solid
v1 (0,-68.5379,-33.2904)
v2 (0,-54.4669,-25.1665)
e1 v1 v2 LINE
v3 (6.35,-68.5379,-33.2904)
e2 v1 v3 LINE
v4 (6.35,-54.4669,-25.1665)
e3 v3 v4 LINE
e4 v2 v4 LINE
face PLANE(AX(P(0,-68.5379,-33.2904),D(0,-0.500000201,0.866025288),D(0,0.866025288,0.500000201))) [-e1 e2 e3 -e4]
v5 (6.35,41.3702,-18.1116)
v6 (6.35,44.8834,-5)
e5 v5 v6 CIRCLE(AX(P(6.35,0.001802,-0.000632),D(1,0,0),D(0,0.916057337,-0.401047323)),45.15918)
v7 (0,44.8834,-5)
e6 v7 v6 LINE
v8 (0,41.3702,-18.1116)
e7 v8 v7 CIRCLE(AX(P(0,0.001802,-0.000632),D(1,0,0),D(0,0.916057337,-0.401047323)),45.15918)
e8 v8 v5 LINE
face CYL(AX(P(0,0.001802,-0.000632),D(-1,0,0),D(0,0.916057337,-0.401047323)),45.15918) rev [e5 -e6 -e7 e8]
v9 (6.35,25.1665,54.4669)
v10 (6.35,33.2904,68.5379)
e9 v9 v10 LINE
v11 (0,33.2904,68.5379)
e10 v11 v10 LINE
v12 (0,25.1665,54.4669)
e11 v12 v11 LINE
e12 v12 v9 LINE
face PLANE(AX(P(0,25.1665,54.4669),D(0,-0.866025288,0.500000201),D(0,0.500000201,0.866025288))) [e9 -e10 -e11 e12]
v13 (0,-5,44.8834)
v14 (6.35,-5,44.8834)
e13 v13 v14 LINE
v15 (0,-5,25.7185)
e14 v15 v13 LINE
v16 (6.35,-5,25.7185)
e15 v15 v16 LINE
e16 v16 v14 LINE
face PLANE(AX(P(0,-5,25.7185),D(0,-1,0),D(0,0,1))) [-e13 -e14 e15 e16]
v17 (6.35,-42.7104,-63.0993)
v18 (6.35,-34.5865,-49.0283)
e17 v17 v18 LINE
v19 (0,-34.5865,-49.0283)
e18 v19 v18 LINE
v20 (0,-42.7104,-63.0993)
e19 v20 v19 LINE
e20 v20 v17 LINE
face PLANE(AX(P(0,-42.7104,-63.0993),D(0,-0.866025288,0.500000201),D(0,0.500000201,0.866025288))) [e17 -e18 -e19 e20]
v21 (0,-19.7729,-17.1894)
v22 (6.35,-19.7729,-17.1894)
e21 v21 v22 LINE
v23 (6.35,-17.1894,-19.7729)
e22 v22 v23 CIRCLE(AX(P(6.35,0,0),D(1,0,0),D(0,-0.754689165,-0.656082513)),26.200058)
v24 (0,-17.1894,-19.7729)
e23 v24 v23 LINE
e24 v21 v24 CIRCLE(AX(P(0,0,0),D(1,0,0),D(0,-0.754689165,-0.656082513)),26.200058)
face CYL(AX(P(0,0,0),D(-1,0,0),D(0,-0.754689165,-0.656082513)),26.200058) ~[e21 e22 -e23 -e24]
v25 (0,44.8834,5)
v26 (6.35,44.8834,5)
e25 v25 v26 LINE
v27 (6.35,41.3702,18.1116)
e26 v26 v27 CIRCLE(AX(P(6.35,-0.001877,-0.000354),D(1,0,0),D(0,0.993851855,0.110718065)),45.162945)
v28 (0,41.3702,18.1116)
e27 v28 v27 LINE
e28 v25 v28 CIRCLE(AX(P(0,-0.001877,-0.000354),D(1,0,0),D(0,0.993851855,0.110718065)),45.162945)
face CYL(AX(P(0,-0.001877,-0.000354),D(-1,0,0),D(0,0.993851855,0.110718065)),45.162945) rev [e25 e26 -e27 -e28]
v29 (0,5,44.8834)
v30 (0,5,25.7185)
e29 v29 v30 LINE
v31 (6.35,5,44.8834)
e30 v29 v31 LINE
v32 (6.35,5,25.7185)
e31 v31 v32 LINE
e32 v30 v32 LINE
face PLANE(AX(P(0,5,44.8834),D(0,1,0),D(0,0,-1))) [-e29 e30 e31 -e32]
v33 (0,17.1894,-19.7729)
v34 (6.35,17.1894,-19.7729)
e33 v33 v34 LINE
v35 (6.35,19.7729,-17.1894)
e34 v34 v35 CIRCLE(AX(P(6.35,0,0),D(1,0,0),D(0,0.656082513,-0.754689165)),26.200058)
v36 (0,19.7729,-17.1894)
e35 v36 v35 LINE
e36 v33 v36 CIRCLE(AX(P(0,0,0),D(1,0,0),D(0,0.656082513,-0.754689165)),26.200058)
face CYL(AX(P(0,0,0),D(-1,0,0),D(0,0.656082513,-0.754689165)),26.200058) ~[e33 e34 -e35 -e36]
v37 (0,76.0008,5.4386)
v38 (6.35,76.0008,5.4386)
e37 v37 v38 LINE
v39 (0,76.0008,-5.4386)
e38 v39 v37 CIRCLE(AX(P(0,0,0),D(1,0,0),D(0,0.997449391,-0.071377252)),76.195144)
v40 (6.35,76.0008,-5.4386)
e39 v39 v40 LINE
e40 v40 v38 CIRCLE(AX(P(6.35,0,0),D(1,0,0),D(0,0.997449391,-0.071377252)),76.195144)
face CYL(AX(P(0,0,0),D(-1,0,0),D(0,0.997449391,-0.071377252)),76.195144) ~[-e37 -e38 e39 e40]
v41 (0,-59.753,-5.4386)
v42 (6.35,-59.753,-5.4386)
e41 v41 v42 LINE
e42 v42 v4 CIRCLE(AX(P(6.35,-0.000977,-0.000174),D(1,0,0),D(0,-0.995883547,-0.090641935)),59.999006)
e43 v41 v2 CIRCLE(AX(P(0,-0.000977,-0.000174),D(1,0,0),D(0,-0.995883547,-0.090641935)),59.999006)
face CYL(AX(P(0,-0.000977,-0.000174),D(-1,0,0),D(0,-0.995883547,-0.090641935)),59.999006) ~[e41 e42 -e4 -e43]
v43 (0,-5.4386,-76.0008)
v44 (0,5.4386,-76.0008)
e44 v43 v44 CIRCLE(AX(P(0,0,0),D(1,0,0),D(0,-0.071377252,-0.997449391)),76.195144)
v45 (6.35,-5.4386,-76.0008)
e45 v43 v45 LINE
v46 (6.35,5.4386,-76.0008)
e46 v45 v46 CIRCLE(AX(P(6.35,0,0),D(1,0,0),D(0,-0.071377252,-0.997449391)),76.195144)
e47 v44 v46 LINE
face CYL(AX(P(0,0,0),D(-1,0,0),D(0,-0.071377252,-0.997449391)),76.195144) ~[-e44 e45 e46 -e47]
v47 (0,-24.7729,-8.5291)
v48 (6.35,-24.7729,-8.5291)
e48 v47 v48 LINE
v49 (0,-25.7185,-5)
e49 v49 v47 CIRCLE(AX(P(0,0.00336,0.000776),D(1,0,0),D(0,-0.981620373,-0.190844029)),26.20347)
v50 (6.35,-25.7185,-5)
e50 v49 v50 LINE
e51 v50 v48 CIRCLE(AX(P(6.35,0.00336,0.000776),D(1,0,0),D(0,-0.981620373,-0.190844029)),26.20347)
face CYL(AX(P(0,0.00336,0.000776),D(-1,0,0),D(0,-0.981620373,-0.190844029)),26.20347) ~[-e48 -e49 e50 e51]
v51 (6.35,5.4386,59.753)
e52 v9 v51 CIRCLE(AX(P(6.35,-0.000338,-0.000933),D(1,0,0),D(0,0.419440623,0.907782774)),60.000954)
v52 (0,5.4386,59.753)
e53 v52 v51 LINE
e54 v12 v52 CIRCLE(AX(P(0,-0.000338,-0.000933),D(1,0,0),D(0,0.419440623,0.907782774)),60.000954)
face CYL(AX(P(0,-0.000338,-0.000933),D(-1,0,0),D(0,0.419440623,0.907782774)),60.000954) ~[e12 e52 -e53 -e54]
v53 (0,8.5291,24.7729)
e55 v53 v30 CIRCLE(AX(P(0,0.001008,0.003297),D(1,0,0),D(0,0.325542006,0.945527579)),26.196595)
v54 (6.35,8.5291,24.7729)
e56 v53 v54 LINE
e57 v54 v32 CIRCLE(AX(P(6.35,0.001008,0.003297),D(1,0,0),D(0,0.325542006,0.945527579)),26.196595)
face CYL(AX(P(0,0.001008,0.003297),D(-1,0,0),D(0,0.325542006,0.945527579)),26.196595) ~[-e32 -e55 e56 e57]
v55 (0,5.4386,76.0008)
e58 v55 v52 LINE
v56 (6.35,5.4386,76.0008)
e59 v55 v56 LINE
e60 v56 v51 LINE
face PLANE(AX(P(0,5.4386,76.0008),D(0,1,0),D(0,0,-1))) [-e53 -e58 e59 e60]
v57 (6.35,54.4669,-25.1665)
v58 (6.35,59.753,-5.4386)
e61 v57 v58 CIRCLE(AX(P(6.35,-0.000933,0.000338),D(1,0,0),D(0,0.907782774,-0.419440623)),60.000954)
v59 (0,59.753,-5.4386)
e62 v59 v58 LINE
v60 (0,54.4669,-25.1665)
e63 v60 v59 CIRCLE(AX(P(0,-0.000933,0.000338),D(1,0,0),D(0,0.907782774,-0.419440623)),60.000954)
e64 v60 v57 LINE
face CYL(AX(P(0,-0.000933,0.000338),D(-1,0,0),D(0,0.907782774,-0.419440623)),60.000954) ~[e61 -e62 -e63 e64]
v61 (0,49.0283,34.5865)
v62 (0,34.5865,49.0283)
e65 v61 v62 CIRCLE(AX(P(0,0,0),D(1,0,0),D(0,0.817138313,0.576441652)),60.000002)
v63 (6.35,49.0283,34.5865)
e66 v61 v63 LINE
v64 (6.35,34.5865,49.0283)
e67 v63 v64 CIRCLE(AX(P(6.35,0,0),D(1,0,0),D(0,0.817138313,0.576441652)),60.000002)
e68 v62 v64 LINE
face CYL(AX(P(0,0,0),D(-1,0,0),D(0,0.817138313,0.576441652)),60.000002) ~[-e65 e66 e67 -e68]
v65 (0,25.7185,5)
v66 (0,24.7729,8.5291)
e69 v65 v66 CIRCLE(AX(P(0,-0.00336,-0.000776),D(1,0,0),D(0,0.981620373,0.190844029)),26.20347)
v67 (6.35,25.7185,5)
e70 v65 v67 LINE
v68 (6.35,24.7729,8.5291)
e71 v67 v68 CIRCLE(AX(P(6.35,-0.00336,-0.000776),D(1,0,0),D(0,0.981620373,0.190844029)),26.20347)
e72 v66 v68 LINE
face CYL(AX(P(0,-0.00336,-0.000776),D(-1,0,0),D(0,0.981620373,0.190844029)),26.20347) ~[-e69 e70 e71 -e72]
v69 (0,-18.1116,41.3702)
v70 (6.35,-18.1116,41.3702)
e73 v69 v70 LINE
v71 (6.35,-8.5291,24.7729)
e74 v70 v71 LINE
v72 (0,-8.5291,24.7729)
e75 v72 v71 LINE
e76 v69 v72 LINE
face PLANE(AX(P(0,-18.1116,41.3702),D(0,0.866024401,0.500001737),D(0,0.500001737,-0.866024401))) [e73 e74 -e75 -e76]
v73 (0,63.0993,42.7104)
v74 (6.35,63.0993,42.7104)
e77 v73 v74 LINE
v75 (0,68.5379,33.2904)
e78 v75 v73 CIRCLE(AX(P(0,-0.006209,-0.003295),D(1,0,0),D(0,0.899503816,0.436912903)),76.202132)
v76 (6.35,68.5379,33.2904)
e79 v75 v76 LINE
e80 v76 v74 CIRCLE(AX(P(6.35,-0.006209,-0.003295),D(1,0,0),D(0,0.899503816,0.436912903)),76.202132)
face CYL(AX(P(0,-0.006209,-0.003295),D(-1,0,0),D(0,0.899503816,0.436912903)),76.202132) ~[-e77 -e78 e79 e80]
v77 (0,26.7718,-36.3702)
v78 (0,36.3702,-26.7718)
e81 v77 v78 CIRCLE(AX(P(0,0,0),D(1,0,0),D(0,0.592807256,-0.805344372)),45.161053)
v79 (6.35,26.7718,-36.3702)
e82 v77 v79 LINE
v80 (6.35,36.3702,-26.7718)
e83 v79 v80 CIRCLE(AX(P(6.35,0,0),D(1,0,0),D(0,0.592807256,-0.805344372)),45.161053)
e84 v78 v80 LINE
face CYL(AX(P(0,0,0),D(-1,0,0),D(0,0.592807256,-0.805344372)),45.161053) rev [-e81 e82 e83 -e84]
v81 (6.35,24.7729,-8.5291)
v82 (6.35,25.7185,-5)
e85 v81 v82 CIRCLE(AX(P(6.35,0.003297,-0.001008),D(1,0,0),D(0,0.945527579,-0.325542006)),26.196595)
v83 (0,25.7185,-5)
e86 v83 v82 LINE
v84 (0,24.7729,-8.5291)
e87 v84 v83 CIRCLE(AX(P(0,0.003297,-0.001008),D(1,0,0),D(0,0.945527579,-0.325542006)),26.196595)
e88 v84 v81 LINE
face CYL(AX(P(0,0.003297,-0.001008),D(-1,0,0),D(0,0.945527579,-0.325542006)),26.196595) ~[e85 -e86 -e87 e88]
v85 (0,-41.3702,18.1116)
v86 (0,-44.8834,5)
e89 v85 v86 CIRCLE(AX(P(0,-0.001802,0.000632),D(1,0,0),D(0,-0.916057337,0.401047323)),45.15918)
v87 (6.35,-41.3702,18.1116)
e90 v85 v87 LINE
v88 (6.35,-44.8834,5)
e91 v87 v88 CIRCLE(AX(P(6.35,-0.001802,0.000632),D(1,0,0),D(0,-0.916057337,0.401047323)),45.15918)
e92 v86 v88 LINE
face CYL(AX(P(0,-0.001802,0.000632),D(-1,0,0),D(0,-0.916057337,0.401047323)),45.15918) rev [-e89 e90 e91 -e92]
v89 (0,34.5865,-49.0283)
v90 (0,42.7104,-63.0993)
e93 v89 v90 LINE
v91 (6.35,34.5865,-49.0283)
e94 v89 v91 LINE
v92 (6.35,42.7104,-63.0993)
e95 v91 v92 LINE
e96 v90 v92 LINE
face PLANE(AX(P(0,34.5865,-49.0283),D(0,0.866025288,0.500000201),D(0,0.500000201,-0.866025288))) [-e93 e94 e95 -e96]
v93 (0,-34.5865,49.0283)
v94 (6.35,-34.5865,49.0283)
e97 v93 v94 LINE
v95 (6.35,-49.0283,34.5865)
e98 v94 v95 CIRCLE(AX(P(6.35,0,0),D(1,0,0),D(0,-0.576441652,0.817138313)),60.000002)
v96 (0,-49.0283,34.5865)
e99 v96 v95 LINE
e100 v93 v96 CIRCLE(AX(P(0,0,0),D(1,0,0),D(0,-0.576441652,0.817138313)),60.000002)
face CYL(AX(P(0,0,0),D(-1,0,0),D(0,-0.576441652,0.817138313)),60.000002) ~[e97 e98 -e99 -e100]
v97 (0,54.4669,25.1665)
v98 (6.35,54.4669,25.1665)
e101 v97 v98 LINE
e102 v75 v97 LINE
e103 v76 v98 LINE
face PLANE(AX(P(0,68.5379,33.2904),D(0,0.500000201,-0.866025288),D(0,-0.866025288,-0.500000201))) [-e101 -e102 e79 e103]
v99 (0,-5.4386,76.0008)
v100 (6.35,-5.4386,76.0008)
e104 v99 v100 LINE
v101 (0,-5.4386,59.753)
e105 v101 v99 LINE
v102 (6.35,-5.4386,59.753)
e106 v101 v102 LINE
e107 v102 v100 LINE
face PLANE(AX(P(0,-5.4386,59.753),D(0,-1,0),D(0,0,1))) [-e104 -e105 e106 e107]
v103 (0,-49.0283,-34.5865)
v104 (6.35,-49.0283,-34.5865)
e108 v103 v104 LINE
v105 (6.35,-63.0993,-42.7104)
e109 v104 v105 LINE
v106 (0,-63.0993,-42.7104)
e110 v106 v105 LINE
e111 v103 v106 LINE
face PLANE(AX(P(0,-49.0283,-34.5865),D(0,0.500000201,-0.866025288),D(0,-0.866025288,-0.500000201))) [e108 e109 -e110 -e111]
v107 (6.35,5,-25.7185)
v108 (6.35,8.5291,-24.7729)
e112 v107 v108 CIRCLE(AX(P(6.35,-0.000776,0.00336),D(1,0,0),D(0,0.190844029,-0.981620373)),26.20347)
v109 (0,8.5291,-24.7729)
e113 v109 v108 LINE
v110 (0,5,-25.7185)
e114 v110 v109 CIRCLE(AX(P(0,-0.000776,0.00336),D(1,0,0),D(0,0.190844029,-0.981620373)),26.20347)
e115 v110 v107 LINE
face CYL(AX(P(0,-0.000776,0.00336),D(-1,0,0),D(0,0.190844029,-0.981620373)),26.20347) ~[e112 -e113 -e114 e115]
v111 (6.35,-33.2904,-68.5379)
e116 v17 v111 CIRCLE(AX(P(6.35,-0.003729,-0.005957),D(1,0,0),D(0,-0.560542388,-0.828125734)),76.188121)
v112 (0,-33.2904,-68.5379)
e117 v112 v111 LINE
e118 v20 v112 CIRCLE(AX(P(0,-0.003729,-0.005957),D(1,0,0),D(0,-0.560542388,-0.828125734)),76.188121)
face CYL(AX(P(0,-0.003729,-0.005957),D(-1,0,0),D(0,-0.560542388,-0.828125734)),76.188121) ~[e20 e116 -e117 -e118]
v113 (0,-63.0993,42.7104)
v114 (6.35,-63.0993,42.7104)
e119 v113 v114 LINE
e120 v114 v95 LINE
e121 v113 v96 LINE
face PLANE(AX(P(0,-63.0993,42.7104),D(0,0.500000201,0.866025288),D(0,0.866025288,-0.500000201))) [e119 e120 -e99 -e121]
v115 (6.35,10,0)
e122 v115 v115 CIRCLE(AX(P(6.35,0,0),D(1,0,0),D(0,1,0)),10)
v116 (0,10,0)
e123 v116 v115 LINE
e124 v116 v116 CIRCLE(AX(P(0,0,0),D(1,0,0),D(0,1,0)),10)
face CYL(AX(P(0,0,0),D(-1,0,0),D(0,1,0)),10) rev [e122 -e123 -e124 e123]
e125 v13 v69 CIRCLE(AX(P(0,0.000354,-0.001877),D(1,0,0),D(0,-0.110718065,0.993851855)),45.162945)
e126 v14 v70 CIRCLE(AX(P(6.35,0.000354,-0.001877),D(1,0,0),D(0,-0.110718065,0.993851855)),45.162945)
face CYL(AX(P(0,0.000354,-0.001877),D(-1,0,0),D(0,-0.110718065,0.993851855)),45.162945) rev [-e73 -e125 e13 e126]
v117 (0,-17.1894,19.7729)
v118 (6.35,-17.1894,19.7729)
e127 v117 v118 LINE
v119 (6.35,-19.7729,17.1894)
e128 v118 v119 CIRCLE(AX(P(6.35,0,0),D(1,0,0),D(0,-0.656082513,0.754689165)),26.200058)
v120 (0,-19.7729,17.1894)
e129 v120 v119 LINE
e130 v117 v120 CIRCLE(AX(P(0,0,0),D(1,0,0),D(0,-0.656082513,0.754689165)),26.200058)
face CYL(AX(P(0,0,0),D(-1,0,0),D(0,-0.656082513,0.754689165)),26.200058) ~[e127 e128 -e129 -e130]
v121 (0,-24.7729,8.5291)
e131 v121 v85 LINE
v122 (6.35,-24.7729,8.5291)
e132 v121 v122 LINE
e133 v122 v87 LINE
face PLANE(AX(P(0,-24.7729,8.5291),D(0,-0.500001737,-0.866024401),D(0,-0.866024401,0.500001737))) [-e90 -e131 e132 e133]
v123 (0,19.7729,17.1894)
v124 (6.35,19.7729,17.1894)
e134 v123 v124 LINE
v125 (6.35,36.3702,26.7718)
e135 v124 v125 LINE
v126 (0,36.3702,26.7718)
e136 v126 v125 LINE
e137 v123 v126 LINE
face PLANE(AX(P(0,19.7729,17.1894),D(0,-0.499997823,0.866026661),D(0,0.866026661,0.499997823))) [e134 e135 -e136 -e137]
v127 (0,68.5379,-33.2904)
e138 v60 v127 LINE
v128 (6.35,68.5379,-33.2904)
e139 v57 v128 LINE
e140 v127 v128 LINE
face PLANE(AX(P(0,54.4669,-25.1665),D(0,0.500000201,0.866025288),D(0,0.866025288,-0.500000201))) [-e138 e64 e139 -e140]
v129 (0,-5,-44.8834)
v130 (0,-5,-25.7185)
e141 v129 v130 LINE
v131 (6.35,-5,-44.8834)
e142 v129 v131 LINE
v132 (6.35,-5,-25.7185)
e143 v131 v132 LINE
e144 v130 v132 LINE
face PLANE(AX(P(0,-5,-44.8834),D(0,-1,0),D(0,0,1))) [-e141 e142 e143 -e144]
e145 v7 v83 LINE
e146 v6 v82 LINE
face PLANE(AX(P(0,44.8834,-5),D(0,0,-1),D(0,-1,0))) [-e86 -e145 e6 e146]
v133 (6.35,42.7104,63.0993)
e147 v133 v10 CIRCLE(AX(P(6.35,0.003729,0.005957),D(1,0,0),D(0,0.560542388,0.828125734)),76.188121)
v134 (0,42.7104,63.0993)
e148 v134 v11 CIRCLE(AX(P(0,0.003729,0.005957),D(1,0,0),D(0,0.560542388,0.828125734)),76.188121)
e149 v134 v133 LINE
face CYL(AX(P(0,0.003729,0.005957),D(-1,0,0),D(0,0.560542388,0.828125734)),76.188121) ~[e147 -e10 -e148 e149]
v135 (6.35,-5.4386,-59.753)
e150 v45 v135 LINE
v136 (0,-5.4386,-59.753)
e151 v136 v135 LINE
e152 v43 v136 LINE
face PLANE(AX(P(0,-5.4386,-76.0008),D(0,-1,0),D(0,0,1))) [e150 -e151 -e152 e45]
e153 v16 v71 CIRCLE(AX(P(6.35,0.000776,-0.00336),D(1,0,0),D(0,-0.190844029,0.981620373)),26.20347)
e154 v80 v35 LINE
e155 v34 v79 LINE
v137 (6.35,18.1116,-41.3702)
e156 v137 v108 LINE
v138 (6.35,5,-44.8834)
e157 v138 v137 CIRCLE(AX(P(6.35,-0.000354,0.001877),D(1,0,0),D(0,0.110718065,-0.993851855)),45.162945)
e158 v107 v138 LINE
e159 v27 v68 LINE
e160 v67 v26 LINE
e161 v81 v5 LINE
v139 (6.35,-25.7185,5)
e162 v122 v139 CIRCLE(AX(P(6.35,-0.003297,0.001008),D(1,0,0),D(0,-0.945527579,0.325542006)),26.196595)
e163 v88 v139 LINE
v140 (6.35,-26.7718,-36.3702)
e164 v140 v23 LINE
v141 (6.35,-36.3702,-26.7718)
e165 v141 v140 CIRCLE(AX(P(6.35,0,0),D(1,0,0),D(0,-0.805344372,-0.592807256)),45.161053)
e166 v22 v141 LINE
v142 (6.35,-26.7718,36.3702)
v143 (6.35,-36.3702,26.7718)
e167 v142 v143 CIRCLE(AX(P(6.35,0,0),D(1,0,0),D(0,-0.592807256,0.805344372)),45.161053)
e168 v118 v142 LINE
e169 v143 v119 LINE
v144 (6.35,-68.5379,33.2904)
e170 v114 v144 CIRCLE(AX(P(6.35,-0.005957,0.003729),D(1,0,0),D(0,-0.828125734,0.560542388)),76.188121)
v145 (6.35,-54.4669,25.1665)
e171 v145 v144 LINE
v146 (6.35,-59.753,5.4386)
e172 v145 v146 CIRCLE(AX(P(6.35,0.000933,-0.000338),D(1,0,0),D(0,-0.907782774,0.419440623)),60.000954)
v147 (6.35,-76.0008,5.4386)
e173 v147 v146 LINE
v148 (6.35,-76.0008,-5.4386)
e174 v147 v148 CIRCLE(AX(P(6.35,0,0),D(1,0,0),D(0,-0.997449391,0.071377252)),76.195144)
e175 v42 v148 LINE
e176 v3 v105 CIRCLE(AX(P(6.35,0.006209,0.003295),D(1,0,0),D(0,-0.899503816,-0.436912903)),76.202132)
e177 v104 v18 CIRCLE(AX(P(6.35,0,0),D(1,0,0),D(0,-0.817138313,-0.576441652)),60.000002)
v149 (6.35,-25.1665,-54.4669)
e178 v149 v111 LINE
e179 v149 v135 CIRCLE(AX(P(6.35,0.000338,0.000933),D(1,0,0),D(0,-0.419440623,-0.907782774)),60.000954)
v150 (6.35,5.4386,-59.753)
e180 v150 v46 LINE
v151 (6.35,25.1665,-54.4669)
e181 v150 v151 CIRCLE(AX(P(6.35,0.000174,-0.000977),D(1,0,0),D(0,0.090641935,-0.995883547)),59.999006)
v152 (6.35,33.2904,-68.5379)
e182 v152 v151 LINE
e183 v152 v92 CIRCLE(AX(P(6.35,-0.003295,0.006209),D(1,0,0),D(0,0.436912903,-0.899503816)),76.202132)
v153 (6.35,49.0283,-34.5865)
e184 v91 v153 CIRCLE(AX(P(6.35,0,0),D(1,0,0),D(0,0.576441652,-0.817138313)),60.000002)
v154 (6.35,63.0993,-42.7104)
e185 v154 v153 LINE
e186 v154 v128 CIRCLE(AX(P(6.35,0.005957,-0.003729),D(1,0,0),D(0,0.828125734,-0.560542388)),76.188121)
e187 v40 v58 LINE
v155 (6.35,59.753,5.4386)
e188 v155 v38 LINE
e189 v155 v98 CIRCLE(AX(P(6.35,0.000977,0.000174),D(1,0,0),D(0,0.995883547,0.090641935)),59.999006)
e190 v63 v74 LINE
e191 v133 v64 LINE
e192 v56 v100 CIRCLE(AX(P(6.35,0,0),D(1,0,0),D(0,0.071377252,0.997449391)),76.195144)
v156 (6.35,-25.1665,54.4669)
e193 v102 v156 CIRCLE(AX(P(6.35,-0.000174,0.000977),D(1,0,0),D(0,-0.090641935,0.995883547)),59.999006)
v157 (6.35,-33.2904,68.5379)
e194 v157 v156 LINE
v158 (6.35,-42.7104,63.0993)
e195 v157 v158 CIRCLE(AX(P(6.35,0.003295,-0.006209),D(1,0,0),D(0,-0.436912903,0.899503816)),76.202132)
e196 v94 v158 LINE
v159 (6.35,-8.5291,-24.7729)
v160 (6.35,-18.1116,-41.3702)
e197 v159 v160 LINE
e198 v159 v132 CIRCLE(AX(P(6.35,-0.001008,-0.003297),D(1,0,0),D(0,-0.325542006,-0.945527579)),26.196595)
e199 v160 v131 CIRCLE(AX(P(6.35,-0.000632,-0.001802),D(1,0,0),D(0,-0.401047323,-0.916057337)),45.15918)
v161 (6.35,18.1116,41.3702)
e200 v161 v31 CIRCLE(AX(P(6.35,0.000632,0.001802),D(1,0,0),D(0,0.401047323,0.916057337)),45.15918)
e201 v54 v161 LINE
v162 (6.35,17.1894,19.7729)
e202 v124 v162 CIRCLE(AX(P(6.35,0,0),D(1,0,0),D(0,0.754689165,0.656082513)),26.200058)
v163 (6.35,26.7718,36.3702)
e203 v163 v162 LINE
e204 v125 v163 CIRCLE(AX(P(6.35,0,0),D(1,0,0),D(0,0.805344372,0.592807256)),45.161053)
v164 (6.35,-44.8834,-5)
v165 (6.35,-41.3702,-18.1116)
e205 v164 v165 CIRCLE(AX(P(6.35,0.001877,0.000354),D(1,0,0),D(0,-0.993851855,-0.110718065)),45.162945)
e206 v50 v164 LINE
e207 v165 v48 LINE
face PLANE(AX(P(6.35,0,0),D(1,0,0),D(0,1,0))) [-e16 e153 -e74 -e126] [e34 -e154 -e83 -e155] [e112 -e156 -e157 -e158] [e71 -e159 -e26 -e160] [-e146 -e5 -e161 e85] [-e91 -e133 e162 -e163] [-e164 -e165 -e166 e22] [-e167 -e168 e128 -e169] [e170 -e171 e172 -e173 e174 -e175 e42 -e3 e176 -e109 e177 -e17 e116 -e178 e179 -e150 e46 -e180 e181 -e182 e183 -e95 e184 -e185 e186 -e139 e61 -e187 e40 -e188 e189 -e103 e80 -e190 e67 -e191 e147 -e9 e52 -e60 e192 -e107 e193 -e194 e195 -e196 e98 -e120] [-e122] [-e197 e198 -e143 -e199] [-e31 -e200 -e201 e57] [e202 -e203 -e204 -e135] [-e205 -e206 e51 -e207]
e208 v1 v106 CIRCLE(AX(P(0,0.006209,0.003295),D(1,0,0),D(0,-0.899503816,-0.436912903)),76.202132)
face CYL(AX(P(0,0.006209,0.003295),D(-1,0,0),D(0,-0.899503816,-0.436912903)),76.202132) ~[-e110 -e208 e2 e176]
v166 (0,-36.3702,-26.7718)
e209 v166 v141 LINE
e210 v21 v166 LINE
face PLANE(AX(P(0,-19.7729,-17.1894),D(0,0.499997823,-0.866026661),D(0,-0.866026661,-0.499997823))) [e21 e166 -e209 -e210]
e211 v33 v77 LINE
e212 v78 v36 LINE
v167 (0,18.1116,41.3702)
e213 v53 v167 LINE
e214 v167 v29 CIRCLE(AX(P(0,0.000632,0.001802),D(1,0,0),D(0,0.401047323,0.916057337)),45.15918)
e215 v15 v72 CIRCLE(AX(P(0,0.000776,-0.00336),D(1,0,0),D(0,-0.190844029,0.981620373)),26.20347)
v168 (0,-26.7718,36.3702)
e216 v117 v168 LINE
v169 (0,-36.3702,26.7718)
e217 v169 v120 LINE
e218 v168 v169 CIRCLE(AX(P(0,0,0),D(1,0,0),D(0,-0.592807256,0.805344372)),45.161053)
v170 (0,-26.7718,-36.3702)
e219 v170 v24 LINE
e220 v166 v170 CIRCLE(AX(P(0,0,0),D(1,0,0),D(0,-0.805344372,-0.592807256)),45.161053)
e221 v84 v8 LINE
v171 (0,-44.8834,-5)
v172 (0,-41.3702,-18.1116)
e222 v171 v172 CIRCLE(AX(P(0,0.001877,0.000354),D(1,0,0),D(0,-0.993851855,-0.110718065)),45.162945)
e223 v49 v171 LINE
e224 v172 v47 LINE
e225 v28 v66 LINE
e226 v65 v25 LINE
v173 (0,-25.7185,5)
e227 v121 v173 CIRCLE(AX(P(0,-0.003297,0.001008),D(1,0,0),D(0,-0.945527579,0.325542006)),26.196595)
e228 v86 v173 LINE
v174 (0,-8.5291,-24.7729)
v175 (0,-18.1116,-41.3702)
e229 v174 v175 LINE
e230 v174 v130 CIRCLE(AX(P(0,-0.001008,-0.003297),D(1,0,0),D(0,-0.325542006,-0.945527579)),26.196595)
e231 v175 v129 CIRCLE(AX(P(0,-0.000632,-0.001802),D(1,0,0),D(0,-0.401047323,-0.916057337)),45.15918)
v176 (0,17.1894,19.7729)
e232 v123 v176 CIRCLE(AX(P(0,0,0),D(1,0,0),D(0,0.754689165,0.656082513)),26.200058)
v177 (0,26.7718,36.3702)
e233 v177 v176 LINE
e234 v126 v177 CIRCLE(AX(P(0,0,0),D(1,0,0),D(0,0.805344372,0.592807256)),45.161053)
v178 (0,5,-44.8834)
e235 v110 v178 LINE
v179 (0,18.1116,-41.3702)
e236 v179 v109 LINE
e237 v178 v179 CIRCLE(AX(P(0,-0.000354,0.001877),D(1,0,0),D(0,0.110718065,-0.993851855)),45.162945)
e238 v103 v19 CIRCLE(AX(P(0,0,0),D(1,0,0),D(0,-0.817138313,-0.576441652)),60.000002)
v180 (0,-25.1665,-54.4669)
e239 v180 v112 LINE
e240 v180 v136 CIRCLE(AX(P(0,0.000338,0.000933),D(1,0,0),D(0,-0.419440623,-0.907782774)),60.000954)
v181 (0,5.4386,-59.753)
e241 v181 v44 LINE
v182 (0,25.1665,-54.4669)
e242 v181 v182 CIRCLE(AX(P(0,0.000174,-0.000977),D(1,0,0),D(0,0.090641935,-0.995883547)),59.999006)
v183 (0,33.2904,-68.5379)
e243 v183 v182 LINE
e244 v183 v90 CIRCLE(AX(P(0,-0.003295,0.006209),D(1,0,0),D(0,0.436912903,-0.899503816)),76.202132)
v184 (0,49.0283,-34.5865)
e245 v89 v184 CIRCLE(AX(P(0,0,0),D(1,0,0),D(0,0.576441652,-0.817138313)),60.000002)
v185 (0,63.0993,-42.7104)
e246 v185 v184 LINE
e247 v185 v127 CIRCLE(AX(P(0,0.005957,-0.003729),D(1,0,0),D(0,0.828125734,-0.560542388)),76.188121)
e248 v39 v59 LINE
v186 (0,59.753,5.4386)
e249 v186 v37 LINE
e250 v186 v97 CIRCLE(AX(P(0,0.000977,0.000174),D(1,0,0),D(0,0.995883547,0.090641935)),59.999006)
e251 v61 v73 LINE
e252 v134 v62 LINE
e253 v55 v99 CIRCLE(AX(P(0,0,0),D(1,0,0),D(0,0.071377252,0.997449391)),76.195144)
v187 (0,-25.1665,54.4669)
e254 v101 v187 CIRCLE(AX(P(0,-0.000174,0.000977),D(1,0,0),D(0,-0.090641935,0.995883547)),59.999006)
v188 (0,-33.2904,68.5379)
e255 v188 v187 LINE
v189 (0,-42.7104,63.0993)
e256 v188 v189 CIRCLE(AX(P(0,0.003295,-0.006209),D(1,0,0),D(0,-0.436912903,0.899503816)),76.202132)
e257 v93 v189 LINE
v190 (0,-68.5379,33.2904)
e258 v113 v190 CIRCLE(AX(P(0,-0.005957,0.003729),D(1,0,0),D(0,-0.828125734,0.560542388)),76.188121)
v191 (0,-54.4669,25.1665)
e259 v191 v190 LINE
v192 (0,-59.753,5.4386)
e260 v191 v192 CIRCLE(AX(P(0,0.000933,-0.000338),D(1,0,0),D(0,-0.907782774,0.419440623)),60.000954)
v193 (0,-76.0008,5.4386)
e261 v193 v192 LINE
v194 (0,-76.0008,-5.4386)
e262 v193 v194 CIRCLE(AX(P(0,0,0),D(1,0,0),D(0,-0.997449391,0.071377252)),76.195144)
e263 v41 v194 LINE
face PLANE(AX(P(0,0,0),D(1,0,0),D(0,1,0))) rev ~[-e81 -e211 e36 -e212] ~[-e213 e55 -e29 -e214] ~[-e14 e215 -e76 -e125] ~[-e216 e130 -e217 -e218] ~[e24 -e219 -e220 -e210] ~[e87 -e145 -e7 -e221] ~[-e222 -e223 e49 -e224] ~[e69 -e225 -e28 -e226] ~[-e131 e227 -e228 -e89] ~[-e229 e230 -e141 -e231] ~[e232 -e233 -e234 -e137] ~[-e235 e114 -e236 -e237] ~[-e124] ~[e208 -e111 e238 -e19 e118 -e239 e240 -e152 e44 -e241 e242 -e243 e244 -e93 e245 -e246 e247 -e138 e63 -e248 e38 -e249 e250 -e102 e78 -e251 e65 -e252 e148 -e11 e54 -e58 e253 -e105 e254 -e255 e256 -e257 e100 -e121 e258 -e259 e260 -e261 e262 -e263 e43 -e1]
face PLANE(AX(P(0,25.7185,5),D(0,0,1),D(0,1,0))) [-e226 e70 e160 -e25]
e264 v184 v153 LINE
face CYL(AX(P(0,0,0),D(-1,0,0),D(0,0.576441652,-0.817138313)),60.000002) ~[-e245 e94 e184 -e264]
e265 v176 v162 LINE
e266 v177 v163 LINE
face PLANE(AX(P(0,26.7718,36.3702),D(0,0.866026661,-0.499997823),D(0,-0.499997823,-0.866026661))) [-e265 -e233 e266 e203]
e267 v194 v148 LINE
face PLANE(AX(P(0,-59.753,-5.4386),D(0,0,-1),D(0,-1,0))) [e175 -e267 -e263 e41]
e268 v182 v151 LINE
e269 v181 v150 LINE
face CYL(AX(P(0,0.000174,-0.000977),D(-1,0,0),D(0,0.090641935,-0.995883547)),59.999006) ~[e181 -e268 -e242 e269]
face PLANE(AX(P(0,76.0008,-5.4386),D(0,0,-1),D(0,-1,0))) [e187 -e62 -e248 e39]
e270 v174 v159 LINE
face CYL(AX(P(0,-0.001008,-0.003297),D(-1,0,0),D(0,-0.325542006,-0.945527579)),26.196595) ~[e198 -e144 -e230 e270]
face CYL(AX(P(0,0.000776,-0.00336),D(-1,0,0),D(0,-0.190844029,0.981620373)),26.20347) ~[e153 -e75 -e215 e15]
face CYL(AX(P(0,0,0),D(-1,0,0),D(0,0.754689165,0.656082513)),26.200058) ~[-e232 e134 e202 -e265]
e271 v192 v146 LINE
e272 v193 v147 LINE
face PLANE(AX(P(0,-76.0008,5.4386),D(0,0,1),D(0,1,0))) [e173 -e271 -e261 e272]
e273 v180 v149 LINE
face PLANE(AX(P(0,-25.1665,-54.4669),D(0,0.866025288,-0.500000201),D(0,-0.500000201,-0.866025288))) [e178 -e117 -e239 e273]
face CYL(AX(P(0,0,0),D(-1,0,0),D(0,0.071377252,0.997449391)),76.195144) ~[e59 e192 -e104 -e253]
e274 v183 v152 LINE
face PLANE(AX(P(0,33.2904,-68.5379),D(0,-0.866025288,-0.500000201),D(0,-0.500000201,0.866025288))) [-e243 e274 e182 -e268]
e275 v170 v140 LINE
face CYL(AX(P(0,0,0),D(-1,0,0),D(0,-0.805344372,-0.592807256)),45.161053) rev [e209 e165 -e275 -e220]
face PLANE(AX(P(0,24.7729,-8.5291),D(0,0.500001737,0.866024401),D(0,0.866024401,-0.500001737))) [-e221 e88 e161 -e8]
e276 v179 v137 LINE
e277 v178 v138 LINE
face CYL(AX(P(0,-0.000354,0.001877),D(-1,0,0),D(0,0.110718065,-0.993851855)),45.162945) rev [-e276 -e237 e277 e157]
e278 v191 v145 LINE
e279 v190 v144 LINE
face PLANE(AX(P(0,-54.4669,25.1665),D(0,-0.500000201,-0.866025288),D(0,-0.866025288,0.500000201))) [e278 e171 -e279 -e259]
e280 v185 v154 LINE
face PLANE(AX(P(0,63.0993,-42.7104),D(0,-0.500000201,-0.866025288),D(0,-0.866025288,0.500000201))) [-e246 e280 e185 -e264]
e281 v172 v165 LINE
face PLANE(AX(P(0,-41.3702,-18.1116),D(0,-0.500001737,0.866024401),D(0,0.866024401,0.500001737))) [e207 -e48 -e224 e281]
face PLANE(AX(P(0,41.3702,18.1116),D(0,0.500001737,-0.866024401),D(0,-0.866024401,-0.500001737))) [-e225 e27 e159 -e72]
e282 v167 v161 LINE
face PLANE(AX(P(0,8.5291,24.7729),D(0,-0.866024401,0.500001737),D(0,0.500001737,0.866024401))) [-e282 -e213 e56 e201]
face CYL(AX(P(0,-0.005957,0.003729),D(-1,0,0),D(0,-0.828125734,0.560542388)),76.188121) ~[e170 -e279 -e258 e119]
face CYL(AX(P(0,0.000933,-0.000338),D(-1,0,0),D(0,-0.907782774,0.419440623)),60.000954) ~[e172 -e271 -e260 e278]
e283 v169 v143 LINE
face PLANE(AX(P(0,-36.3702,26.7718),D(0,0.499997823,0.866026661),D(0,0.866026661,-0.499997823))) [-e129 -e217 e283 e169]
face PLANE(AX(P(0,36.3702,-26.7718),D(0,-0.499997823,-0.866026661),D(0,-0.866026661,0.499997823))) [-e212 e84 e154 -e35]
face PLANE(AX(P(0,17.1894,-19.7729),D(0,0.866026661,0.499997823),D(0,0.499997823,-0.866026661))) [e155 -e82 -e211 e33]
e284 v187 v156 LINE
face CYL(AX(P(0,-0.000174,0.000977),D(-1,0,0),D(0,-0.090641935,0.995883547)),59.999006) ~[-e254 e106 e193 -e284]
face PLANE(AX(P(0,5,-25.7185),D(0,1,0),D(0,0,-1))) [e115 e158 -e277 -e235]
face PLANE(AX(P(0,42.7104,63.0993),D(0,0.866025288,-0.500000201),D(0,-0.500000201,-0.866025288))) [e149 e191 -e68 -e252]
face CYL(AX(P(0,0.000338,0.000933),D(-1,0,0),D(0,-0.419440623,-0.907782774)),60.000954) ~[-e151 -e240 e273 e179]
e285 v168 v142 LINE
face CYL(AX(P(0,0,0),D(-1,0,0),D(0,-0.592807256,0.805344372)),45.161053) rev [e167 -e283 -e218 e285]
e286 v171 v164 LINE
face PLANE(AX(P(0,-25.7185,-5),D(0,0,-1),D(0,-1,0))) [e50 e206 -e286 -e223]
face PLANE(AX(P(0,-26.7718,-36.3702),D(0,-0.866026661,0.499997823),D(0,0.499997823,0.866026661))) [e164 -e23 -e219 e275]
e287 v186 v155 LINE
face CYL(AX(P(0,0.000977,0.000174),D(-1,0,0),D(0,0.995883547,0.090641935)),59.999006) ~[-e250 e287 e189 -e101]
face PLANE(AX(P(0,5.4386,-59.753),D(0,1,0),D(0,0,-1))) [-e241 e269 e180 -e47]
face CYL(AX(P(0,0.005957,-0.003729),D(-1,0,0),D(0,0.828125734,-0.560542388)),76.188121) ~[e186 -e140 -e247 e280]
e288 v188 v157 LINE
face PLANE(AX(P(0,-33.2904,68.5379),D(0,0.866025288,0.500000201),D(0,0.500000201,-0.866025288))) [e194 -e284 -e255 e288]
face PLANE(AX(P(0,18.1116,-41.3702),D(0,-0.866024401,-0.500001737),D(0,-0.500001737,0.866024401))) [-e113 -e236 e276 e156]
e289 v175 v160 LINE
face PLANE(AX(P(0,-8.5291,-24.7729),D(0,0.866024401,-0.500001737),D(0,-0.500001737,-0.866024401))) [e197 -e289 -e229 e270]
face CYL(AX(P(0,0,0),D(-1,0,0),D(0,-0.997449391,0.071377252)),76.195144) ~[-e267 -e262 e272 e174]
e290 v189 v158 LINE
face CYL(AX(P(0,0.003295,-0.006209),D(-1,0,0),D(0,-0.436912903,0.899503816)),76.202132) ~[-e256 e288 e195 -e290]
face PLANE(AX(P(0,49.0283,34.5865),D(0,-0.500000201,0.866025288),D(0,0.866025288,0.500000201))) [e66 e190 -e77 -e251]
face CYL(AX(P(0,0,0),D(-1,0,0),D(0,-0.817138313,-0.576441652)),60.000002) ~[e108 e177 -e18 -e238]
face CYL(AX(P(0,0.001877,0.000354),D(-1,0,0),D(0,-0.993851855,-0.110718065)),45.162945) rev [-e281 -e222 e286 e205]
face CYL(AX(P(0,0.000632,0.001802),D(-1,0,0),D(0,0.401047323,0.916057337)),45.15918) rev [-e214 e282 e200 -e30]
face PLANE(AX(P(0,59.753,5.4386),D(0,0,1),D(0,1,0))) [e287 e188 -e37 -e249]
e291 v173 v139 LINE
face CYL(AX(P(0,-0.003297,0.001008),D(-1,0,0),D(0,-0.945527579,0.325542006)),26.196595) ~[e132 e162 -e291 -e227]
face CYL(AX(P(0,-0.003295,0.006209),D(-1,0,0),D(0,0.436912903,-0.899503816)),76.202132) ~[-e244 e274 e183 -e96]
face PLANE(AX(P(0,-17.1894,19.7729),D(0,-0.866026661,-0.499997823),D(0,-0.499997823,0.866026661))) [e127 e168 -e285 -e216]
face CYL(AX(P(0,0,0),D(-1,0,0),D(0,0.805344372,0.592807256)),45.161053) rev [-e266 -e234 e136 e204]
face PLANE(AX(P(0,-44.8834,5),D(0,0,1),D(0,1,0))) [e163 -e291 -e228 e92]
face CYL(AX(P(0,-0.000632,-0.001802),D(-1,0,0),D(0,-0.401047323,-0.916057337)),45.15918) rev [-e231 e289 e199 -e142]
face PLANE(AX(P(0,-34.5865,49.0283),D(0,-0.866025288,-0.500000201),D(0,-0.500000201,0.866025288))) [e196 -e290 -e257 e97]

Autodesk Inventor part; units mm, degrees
ref_plane "YZ Plane" through (0, 0, 0) normal (1, 0, 0) x (0, 1, 0)
ref_plane "XZ Plane" through (0, 0, 0) normal (0, 1, 0) x (-1, 0, 0)
ref_plane "XY Plane" through (0, 0, 0) normal (0, 0, 1) x (1, 0, 0)
sketch "Sketch1" plane through (0, 0, 0) normal (1, 0, 0) x (0, 1, 0)
  circle A0 centre (0, 0) radius 10
  line L0 (5.4386, -55.161) -> (-5.4386, -55.161) construction
  line L1 (-5.4386, -76.0008) -> (-5.4386, -59.753)
  line L2 (-5, -44.8834) -> (-5, -25.7185)
  line L3 (5, -25.7185) -> (5, -44.8834)
  line L4 (5.4386, -59.753) -> (5.4386, -76.0008)
  arc A1 (-5.4386, -76.0008) -> (5.4386, -76.0008) centre (0, 0) ccw
  line L5 (18.1116, -41.3702) -> (8.5291, -24.7729)
  line L6 (17.1894, -19.7729) -> (26.7718, -36.3702)
  line L7 (34.5865, -49.0283) -> (42.7104, -63.0993)
  arc A2 (33.2904, -68.5379) -> (42.7104, -63.0993) centre (0, 0) ccw
  line L8 (33.2904, -68.5379) -> (25.1665, -54.4669)
  line L9 (36.3702, -26.7718) -> (19.7729, -17.1894)
  line L10 (24.7729, -8.5291) -> (41.3702, -18.1116)
  line L11 (54.4669, -25.1665) -> (68.5379, -33.2904)
  arc A3 (63.0993, -42.7104) -> (68.5379, -33.2904) centre (0, 0) ccw
  line L12 (63.0993, -42.7104) -> (49.0283, -34.5865)
  line L13 (44.8834, -5) -> (25.7185, -5)
  line L14 (25.7185, 5) -> (44.8834, 5)
  line L15 (59.753, 5.4386) -> (76.0008, 5.4386)
  arc A4 (76.0008, -5.4386) -> (76.0008, 5.4386) centre (0, 0) ccw
  line L16 (76.0008, -5.4386) -> (59.753, -5.4386)
  line L17 (41.3702, 18.1116) -> (24.7729, 8.5291)
  line L18 (19.7729, 17.1894) -> (36.3702, 26.7718)
  line L19 (49.0283, 34.5865) -> (63.0993, 42.7104)
  arc A5 (68.5379, 33.2904) -> (63.0993, 42.7104) centre (0, 0) ccw
  line L20 (68.5379, 33.2904) -> (54.4669, 25.1665)
  line L21 (26.7718, 36.3702) -> (17.1894, 19.7729)
  line L22 (8.5291, 24.7729) -> (18.1116, 41.3702)
  line L23 (25.1665, 54.4669) -> (33.2904, 68.5379)
  arc A6 (42.7104, 63.0993) -> (33.2904, 68.5379) centre (0, 0) ccw
  line L24 (42.7104, 63.0993) -> (34.5865, 49.0283)
  line L25 (5, 44.8834) -> (5, 25.7185)
  line L26 (-5, 25.7185) -> (-5, 44.8834)
  line L27 (-5.4386, 59.753) -> (-5.4386, 76.0008)
  arc A7 (5.4386, 76.0008) -> (-5.4386, 76.0008) centre (0, 0) ccw
  line L28 (5.4386, 76.0008) -> (5.4386, 59.753)
  line L29 (-18.1116, 41.3702) -> (-8.5291, 24.7729)
  line L30 (-17.1894, 19.7729) -> (-26.7718, 36.3702)
  line L31 (-34.5865, 49.0283) -> (-42.7104, 63.0993)
  arc A8 (-33.2904, 68.5379) -> (-42.7104, 63.0993) centre (0, 0) ccw
  line L32 (-33.2904, 68.5379) -> (-25.1665, 54.4669)
  line L33 (-36.3702, 26.7718) -> (-19.7729, 17.1894)
  line L34 (-24.7729, 8.5291) -> (-41.3702, 18.1116)
  line L35 (-54.4669, 25.1665) -> (-68.5379, 33.2904)
  arc A9 (-63.0993, 42.7104) -> (-68.5379, 33.2904) centre (0, 0) ccw
  line L36 (-63.0993, 42.7104) -> (-49.0283, 34.5865)
  line L37 (-44.8834, 5) -> (-25.7185, 5)
  line L38 (-25.7185, -5) -> (-44.8834, -5)
  line L39 (-59.753, -5.4386) -> (-76.0008, -5.4386)
  arc A10 (-76.0008, 5.4386) -> (-76.0008, -5.4386) centre (0, 0) ccw
  line L40 (-76.0008, 5.4386) -> (-59.753, 5.4386)
  line L41 (-41.3702, -18.1116) -> (-24.7729, -8.5291)
  line L42 (-19.7729, -17.1894) -> (-36.3702, -26.7718)
  line L43 (-49.0283, -34.5865) -> (-63.0993, -42.7104)
  arc A11 (-68.5379, -33.2904) -> (-63.0993, -42.7104) centre (0, 0) ccw
  line L44 (-68.5379, -33.2904) -> (-54.4669, -25.1665)
  line L45 (-26.7718, -36.3702) -> (-17.1894, -19.7729)
  line L46 (-8.5291, -24.7729) -> (-18.1116, -41.3702)
  line L47 (-25.1665, -54.4669) -> (-33.2904, -68.5379)
  arc A12 (-42.7104, -63.0993) -> (-33.2904, -68.5379) centre (0, 0) ccw
  line L48 (-42.7104, -63.0993) -> (-34.5865, -49.0283)
  arc A13 (5, -44.8834) -> (18.1116, -41.3702) centre (0, 0) ccw
  arc A14 (-18.1116, -41.3702) -> (-5, -44.8834) centre (0, 0) ccw
  arc A15 (-36.3702, -26.7718) -> (-26.7718, -36.3702) centre (0, 0) ccw
  arc A16 (-44.8834, -5) -> (-41.3702, -18.1116) centre (0, 0) ccw
  arc A17 (-24.7729, 8.5291) -> (-25.7185, 5) centre (0, 0) ccw
  arc A18 (-41.3702, 18.1116) -> (-44.8834, 5) centre (0, 0) ccw
  arc A19 (-26.7718, 36.3702) -> (-36.3702, 26.7718) centre (0, 0) ccw
  arc A20 (-17.1894, 19.7729) -> (-19.7729, 17.1894) centre (0, 0) ccw
  arc A21 (-5, 44.8834) -> (-18.1116, 41.3702) centre (0, 0) ccw
  arc A22 (-5, 25.7185) -> (-8.5291, 24.7729) centre (0, 0) ccw
  arc A23 (8.5291, 24.7729) -> (5, 25.7185) centre (0, 0) ccw
  arc A24 (18.1116, 41.3702) -> (5, 44.8834) centre (0, 0) ccw
  arc A25 (36.3702, 26.7718) -> (26.7718, 36.3702) centre (0, 0) ccw
  arc A26 (19.7729, 17.1894) -> (17.1894, 19.7729) centre (0, 0) ccw
  arc A27 (25.7185, 5) -> (24.7729, 8.5291) centre (0, 0) ccw
  arc A28 (26.7718, -36.3702) -> (36.3702, -26.7718) centre (0, 0) ccw
  arc A29 (24.7729, -8.5291) -> (25.7185, -5) centre (0, 0) ccw
  arc A30 (17.1894, -19.7729) -> (19.7729, -17.1894) centre (0, 0) ccw
  arc A31 (5, -25.7185) -> (8.5291, -24.7729) centre (0, 0) ccw
  arc A32 (-8.5291, -24.7729) -> (-5, -25.7185) centre (0, 0) ccw
  arc A33 (-25.7185, -5) -> (-24.7729, -8.5291) centre (0, 0) ccw
  arc A34 (-19.7729, -17.1894) -> (-17.1894, -19.7729) centre (0, 0) ccw
  arc A35 (41.3702, -18.1116) -> (44.8834, -5) centre (0, 0) ccw
  arc A36 (44.8834, 5) -> (41.3702, 18.1116) centre (0, 0) ccw
  arc A37 (-49.0283, -34.5865) -> (-34.5865, -49.0283) centre (0, 0) ccw
  arc A38 (-25.1665, -54.4669) -> (-5.4386, -59.753) centre (0, 0) ccw
  arc A39 (5.4386, -59.753) -> (25.1665, -54.4669) centre (0, 0) ccw
  arc A40 (34.5865, -49.0283) -> (49.0283, -34.5865) centre (0, 0) ccw
  arc A41 (54.4669, -25.1665) -> (59.753, -5.4386) centre (0, 0) ccw
  arc A42 (59.753, 5.4386) -> (54.4669, 25.1665) centre (0, 0) ccw
  arc A43 (49.0283, 34.5865) -> (34.5865, 49.0283) centre (0, 0) ccw
  arc A44 (25.1665, 54.4669) -> (5.4386, 59.753) centre (0, 0) ccw
  arc A45 (-5.4386, 59.753) -> (-25.1665, 54.4669) centre (0, 0) ccw
  arc A46 (-34.5865, 49.0283) -> (-49.0283, 34.5865) centre (0, 0) ccw
  arc A47 (-54.4669, 25.1665) -> (-59.753, 5.4386) centre (0, 0) ccw
  arc A48 (-59.753, -5.4386) -> (-54.4669, -25.1665) centre (0, 0) ccw
  point P0 (0, -55.161)
  point P1 (32.2905, -45.0516)
  point P2 (22.8705, -50.4902)
  point P3 (50.4902, -22.8705)
  point P4 (45.0516, -32.2905)
  point P5 (55.161, 5.4386)
  point P6 (55.161, -5.4386)
  point P7 (45.0516, 32.2905)
  point P8 (50.4902, 22.8705)
  point P9 (22.8705, 50.4902)
  point P10 (32.2905, 45.0516)
  point P11 (-5.4386, 55.161)
  point P12 (5.4386, 55.161)
  point P13 (-32.2905, 45.0516)
  point P14 (-22.8705, 50.4902)
  point P15 (-50.4902, 22.8705)
  point P16 (-45.0516, 32.2905)
  point P17 (-55.161, -5.4386)
  point P18 (-55.161, 5.4386)
  point P19 (-45.0516, -32.2905)
  point P20 (-50.4902, -22.8705)
  point P21 (-22.8705, -50.4902)
  point P22 (-32.2905, -45.0516)
  dimension "d0" = 20
  dimension "d19" = 360
extrude "Extrusion2" add sketch "Sketch1" along normal blind 6.35
properties part number "paddlewheel_inner"
